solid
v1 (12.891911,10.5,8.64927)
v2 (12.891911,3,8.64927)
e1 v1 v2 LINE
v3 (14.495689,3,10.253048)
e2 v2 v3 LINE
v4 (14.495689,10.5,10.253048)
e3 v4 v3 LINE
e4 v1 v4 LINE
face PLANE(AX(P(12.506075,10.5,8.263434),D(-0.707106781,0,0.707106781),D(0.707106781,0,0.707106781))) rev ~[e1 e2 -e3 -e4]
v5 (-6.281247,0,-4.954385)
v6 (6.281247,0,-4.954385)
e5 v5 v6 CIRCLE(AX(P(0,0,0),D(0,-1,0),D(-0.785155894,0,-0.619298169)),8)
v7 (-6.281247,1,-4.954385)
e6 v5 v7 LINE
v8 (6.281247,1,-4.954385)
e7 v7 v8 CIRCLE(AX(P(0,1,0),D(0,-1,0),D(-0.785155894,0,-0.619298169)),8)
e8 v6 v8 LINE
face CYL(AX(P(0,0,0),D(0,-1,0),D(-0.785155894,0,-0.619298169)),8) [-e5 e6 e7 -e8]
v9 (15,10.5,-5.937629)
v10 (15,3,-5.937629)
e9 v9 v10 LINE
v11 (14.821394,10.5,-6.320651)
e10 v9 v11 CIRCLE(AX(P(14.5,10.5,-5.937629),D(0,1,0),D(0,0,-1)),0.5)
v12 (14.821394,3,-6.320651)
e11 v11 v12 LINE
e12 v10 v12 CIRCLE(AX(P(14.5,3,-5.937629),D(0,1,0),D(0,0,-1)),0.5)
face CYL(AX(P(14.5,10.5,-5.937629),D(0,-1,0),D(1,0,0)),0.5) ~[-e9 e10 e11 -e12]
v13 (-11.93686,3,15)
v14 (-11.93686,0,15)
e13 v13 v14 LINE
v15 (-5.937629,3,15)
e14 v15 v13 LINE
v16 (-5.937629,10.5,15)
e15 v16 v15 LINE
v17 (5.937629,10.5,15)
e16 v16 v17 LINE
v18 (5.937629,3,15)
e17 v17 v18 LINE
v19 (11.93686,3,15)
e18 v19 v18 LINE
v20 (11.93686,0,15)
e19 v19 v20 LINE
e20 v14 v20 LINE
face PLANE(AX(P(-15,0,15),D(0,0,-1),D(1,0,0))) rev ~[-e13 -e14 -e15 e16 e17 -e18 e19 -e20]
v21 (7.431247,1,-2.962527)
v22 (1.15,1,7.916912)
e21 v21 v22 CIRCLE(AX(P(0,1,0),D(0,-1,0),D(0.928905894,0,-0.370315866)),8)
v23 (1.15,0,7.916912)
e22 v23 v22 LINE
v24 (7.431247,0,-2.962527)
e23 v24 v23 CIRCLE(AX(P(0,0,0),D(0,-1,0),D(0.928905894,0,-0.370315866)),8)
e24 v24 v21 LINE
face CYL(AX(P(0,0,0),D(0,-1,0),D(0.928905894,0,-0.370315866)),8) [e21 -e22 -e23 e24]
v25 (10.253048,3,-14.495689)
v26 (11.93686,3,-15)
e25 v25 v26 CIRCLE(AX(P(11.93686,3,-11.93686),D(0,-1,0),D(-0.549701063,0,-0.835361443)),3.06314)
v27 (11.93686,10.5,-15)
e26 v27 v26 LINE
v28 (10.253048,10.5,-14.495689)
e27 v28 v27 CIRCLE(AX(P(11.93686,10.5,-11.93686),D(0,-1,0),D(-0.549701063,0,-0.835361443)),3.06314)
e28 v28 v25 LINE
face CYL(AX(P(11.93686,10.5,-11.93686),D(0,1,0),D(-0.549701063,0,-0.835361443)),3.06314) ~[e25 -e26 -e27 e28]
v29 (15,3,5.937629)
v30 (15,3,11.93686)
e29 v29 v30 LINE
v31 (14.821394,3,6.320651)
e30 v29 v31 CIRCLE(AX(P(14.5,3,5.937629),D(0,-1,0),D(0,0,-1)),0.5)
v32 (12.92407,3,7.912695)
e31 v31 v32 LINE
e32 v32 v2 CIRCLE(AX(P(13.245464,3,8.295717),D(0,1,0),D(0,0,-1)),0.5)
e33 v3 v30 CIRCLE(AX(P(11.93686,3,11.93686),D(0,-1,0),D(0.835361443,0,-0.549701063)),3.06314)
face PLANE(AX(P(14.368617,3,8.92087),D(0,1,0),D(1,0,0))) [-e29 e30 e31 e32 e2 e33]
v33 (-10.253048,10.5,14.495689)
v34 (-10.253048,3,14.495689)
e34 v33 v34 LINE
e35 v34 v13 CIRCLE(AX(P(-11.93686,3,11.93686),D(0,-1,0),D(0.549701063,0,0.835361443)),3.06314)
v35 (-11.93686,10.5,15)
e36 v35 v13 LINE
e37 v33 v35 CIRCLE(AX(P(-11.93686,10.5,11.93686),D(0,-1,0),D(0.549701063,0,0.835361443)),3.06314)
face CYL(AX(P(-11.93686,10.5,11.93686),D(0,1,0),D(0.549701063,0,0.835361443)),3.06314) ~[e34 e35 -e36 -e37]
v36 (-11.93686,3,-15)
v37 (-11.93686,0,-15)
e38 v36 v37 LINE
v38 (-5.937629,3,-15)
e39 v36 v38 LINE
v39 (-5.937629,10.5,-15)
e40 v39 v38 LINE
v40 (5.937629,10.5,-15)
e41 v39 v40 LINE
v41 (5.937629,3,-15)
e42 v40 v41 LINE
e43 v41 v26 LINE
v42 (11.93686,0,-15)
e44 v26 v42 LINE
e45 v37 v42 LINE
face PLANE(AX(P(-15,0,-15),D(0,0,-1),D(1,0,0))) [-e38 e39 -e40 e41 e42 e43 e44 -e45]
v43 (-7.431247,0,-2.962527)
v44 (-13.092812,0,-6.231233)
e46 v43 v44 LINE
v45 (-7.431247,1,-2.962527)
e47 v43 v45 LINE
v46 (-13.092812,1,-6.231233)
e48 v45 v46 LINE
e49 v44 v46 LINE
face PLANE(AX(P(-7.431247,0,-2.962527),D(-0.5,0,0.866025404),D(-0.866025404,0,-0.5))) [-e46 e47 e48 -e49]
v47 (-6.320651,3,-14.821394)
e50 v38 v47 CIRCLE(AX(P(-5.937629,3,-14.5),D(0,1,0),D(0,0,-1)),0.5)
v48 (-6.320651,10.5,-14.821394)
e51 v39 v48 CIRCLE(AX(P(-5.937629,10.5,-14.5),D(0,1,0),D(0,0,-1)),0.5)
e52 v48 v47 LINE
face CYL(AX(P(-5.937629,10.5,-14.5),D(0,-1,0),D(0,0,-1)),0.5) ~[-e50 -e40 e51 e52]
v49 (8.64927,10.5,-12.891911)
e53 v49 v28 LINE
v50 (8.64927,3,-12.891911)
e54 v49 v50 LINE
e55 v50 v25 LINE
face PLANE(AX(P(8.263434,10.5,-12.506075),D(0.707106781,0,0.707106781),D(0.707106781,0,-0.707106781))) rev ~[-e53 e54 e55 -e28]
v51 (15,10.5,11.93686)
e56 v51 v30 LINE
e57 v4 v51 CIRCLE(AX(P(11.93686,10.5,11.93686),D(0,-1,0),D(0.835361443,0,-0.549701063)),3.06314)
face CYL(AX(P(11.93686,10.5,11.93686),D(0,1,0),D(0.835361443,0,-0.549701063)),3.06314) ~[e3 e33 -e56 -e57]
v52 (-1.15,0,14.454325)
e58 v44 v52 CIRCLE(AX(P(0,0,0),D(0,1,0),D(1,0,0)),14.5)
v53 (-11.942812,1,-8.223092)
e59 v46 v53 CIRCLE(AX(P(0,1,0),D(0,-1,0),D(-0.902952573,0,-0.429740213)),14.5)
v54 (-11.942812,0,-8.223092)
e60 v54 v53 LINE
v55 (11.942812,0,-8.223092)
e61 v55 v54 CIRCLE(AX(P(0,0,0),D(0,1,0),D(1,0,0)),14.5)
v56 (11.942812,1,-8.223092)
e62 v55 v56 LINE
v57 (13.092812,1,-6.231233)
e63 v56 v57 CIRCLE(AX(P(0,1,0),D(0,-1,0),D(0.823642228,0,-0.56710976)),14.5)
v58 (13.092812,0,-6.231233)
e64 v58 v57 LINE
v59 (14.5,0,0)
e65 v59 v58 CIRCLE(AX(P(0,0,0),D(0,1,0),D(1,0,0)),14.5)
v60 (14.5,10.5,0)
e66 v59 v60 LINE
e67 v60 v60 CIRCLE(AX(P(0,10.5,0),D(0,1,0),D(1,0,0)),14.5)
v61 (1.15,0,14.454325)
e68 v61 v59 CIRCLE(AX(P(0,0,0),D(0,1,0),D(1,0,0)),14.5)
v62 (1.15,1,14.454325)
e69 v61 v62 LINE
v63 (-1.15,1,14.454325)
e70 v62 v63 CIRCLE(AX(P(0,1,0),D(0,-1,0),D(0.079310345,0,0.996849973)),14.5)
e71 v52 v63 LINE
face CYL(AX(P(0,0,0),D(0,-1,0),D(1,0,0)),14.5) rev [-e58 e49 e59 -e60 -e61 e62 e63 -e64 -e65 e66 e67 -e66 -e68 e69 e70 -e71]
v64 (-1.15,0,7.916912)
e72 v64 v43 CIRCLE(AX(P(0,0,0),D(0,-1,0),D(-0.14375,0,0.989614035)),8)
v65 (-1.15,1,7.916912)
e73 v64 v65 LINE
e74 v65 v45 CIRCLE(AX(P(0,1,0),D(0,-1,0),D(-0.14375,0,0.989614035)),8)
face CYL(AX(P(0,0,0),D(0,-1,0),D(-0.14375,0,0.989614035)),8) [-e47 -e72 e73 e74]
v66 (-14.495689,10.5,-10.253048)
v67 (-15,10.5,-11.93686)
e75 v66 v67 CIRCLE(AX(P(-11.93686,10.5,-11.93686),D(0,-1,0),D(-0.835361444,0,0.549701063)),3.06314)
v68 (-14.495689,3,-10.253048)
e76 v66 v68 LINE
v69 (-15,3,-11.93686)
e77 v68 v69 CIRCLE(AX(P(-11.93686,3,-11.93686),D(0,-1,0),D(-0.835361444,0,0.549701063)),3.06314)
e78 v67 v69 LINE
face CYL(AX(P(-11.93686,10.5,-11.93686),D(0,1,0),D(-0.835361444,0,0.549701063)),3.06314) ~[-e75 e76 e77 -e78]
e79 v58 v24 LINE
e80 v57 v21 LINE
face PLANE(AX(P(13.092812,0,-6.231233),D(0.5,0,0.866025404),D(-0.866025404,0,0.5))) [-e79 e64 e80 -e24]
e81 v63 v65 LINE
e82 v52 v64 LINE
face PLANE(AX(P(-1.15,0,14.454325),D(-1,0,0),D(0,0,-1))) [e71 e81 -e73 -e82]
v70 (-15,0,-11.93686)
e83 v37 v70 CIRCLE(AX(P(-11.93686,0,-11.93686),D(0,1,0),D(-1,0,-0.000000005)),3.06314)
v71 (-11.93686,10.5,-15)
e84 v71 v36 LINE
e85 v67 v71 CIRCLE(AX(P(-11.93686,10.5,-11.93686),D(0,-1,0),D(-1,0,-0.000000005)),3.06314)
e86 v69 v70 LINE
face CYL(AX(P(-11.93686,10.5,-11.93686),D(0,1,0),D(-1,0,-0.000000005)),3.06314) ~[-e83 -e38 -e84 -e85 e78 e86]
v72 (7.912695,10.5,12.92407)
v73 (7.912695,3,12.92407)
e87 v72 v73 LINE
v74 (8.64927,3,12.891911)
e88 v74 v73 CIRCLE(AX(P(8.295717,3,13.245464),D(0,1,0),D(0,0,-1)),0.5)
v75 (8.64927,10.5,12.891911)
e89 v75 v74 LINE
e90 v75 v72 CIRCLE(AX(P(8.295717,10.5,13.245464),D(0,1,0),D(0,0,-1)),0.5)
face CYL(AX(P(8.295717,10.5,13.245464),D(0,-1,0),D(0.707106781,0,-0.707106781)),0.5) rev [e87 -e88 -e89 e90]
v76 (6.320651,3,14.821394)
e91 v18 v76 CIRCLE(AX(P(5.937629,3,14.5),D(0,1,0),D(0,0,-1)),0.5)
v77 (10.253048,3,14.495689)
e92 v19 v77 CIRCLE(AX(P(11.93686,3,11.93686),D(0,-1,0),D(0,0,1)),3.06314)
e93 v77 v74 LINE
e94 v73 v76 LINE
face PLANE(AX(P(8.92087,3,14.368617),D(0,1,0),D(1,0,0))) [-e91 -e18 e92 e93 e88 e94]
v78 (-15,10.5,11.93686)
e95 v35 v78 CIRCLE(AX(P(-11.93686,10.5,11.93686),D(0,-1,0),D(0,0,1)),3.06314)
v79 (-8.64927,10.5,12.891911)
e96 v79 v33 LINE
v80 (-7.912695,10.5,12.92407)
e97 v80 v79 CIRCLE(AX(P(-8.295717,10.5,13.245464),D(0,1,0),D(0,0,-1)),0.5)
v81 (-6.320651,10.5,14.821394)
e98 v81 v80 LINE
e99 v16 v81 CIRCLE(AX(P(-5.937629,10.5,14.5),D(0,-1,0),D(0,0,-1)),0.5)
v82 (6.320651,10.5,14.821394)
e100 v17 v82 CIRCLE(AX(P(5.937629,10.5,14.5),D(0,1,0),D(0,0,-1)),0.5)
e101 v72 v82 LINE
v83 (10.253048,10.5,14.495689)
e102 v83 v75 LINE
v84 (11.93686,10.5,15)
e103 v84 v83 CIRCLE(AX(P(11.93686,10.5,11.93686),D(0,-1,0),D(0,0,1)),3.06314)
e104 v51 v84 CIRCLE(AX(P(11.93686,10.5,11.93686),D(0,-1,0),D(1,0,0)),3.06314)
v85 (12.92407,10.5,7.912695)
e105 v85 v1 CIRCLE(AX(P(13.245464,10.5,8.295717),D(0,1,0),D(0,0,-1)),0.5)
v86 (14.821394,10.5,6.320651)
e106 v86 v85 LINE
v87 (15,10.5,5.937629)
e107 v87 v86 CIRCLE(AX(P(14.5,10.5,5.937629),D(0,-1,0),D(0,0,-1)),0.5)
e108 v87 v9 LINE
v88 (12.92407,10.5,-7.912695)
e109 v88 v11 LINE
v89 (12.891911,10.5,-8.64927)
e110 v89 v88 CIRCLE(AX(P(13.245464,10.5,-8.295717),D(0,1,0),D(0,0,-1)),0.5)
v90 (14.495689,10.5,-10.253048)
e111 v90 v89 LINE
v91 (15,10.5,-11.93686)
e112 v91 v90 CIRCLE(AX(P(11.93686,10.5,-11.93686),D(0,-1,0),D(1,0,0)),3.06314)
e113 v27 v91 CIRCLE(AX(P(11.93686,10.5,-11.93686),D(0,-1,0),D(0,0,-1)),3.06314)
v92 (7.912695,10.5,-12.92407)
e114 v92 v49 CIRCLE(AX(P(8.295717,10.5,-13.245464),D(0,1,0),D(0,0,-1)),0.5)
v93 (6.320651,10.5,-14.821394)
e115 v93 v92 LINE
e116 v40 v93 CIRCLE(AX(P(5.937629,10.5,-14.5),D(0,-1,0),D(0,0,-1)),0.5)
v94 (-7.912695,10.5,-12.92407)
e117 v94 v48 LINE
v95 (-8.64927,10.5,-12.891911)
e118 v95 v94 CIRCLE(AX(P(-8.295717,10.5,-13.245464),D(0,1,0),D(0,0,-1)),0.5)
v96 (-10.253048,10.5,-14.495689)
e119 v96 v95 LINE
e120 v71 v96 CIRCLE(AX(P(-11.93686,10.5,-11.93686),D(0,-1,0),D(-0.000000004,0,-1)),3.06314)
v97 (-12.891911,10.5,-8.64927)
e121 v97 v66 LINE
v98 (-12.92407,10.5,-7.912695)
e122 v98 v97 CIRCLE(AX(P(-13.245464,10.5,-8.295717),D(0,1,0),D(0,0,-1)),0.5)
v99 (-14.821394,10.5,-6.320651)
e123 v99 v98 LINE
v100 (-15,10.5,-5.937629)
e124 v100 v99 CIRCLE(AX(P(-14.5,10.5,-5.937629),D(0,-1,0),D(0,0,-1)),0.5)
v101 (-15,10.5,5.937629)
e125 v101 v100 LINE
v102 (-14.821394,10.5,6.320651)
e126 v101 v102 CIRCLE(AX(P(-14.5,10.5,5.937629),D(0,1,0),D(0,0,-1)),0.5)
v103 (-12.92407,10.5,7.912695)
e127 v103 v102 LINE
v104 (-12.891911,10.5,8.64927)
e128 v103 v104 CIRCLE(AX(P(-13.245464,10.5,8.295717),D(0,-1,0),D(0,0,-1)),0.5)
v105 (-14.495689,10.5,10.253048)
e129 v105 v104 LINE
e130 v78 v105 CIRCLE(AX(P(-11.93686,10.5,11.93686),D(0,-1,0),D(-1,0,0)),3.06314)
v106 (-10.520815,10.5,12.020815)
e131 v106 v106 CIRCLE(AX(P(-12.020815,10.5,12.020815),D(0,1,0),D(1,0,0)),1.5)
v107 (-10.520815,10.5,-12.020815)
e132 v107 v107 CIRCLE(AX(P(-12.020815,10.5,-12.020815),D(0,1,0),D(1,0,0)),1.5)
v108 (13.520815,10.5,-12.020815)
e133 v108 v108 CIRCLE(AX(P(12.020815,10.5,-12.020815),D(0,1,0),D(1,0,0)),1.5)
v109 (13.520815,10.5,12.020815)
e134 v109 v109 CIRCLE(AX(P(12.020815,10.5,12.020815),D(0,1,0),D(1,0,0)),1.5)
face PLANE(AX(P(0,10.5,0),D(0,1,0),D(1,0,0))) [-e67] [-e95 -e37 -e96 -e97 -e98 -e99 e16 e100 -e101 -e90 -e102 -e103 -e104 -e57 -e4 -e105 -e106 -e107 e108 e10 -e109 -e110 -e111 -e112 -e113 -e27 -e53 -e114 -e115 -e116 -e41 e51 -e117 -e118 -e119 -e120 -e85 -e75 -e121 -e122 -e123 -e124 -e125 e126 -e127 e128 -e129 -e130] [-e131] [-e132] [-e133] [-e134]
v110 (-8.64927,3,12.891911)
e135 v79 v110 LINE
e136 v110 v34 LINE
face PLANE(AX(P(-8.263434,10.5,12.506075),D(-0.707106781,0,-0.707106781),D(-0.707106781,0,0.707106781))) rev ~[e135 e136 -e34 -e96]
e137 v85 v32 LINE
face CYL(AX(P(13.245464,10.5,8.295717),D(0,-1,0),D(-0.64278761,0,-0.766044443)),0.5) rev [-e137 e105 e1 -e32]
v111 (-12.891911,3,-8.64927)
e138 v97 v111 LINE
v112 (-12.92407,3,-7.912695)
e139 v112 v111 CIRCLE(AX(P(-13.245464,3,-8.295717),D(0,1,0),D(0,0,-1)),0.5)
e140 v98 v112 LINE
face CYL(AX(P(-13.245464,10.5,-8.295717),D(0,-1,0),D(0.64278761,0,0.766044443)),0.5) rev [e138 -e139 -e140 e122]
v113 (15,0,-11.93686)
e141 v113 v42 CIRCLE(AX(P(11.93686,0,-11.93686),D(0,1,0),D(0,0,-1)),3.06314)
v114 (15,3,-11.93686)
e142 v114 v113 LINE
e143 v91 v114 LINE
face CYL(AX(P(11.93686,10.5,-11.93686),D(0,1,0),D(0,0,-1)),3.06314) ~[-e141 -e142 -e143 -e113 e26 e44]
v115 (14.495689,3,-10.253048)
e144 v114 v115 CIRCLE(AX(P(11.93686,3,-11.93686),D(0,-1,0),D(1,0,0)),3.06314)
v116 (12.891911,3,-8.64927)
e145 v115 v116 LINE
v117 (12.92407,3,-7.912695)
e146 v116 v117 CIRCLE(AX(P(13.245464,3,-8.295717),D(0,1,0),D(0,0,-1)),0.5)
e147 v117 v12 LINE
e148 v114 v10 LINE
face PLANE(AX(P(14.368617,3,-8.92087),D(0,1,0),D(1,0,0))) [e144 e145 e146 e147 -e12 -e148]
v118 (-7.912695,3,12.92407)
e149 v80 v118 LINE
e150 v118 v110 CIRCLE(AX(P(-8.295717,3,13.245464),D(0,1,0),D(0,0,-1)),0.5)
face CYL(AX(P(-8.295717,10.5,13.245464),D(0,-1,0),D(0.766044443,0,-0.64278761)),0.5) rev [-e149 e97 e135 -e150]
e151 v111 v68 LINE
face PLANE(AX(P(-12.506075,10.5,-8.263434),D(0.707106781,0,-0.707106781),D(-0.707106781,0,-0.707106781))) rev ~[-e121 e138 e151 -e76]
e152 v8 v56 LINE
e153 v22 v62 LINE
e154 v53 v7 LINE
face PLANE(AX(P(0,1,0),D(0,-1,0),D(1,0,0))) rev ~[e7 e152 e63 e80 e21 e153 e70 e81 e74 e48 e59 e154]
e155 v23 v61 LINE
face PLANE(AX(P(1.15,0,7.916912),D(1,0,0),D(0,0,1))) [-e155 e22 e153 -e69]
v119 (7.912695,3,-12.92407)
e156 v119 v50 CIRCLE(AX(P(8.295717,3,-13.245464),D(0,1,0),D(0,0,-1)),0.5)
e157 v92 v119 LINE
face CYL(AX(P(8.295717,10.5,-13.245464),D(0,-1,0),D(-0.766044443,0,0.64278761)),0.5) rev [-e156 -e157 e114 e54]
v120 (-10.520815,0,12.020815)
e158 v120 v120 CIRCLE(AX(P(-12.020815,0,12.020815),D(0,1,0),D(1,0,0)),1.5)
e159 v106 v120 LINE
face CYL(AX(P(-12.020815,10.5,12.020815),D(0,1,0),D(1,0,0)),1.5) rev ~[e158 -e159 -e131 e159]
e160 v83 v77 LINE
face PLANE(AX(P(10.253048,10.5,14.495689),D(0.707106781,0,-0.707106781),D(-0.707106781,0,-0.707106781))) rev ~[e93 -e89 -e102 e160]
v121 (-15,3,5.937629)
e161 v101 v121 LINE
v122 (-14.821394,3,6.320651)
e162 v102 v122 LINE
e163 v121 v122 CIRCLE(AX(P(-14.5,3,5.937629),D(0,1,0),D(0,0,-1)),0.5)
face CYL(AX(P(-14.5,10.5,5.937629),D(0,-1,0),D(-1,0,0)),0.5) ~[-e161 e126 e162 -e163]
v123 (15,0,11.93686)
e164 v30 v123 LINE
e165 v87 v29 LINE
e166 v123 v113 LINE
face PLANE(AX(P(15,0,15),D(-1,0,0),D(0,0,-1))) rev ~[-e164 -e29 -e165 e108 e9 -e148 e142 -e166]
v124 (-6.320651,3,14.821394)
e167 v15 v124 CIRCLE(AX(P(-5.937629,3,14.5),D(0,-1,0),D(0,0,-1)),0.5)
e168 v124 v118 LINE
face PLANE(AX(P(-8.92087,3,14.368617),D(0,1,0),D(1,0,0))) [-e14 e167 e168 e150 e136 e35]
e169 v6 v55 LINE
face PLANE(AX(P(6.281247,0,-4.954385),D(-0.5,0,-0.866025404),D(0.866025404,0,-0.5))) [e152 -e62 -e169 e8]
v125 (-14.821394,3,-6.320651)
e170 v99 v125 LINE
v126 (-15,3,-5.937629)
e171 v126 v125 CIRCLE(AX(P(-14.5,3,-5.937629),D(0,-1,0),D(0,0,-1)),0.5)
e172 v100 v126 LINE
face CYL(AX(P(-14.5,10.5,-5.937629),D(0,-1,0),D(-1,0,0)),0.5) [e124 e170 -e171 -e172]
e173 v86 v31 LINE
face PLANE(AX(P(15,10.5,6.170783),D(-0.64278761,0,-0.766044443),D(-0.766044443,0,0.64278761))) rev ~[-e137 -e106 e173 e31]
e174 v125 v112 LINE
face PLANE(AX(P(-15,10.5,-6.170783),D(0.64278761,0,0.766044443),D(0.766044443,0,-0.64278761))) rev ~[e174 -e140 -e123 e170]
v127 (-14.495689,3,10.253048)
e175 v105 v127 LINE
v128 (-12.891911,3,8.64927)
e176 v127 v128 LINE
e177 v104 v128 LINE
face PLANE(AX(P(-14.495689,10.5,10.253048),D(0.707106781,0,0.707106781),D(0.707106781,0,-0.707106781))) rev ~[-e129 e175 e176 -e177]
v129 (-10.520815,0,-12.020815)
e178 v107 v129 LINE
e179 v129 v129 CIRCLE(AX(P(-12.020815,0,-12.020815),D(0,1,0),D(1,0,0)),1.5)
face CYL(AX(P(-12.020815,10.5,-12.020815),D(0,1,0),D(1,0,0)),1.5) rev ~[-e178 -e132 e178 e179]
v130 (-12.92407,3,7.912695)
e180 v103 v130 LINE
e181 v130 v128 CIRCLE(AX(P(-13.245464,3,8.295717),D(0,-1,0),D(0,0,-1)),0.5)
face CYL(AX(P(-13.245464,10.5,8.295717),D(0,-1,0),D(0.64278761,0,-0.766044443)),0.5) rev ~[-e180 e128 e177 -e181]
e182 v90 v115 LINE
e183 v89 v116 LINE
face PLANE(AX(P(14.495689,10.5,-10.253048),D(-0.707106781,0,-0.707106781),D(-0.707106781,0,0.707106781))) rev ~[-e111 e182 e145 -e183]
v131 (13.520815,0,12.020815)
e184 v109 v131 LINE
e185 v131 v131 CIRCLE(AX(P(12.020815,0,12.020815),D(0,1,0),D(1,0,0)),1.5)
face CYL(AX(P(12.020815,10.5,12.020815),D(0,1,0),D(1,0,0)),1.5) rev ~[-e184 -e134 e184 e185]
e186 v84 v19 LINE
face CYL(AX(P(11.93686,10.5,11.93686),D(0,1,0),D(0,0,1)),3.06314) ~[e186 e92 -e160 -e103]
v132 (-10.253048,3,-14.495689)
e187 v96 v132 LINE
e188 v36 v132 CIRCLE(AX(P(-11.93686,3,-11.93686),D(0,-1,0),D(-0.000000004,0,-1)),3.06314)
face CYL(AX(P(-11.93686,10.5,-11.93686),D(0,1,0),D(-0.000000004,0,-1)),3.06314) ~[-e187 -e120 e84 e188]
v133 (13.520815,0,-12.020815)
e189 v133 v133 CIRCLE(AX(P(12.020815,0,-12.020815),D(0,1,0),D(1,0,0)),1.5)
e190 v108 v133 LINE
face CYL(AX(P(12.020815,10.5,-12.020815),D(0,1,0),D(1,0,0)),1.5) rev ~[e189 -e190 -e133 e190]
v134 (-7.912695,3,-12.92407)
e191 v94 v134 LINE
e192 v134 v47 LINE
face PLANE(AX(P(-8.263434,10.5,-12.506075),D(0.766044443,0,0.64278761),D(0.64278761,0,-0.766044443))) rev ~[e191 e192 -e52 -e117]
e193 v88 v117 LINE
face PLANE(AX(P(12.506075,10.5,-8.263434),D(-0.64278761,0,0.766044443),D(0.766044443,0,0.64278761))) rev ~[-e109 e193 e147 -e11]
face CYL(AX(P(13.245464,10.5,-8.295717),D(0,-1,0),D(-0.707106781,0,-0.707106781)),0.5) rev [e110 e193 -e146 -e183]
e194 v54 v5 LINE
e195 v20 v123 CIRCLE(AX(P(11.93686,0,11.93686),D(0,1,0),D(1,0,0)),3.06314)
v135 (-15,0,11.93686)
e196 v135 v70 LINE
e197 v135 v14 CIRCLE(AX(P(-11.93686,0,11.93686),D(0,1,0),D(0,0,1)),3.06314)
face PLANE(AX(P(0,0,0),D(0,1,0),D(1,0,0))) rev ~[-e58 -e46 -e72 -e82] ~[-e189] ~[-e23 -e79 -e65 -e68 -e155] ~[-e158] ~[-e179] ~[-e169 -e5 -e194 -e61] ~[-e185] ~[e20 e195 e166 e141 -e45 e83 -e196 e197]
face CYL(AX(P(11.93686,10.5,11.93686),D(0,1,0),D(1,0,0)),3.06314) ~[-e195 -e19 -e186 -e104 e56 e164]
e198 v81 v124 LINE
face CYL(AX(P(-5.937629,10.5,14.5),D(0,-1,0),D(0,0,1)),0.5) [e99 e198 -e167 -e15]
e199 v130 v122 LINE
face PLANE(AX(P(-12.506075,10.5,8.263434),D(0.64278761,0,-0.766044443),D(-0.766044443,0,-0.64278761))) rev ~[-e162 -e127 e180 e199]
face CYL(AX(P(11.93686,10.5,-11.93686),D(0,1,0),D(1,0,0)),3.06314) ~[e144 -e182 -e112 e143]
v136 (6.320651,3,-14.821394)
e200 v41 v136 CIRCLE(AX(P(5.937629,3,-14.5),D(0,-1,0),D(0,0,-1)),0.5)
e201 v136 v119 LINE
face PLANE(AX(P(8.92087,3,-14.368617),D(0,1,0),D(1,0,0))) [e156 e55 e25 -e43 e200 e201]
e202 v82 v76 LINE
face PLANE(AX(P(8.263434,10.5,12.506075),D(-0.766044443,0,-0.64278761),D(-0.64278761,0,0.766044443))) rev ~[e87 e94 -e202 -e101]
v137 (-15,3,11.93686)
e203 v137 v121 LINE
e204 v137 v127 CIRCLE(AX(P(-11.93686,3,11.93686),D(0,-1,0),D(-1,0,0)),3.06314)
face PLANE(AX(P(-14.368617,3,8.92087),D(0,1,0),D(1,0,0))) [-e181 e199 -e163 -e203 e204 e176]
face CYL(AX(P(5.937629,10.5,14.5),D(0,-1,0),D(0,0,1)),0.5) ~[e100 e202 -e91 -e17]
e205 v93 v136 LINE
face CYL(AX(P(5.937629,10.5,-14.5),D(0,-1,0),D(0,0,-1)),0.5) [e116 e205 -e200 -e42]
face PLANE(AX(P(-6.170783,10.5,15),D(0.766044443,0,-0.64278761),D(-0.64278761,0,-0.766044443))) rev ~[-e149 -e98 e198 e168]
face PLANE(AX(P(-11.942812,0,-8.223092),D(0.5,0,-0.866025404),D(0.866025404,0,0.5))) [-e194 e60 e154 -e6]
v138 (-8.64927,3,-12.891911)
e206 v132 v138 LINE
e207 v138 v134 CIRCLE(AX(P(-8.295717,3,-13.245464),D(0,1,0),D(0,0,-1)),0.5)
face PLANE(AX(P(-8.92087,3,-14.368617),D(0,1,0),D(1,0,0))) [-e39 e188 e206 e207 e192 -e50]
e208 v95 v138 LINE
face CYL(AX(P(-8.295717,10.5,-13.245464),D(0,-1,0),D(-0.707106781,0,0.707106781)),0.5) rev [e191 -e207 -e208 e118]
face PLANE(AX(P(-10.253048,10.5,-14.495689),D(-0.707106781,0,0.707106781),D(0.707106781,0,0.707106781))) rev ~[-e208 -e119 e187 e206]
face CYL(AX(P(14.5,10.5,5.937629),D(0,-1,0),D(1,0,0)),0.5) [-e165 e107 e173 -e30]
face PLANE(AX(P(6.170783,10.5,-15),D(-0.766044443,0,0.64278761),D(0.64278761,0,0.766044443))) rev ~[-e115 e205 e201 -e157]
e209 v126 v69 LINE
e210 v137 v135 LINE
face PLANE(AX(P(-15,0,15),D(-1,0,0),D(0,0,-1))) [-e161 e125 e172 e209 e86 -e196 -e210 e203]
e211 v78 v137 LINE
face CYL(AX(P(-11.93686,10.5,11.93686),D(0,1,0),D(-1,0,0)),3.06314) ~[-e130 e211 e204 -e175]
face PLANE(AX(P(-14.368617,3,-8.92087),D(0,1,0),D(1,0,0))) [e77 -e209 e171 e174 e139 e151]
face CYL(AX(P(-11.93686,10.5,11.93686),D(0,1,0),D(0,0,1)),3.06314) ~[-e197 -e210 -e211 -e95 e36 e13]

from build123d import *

# Parameters (mm, degrees)
SKETCH2_W           = 30
SKETCH2_H           = 30
SKETCH2_R           = 14.5
BOSS_EXTRUDE1_DEPTH = 10.5
BOSS_EXTRUDE2_DEPTH = 1
SKETCH4_R           = 1.5
CUT_EXTRUDE1_DEPTH  = 24.669600757
CUT_EXTRUDE2_DEPTH  = 7.5
FILLET1_R           = 0.5


with BuildPart() as part:
    # Sketch2 → Boss-Extrude1 (new body)
    with BuildSketch(Plane(origin=(0, 0, 0), x_dir=(1, 0, 0), z_dir=(0, 1, 0))):
        Rectangle(SKETCH2_W, SKETCH2_H)
        Circle(SKETCH2_R, mode=Mode.SUBTRACT)
    extrude(amount=BOSS_EXTRUDE1_DEPTH)

    # Sketch3 → Boss-Extrude2 (add)
    with BuildSketch(Plane.XZ):
        with BuildLine():
            Line((-1.15, 14.454324612), (-1.15, 7.916912277))
            ThreePointArc((-1.15, 7.916912277), (-6.92820323, 4), (-7.431247151, -2.962526924))
            Line((-7.431247151, -2.962526924), (-13.092812309, -6.231233092))
            ThreePointArc((-13.092812309, -6.231233092), (-12.557368355, -7.25), (-11.942812309, -8.223091521))
            Line((-11.942812309, -8.223091521), (-6.281247151, -4.954385353))
            ThreePointArc((-6.281247151, -4.954385353), (0, -8), (6.281247151, -4.954385353))
            Line((6.281247151, -4.954385353), (11.942812309, -8.223091521))
            ThreePointArc((11.942812309, -8.223091521), (12.557368355, -7.25), (13.092812309, -6.231233092))
            Line((13.092812309, -6.231233092), (7.431247151, -2.962526924))
            ThreePointArc((7.431247151, -2.962526924), (6.92820323, 4), (1.15, 7.916912277))
            Line((1.15, 7.916912277), (1.15, 14.454324612))
            ThreePointArc((1.15, 14.454324612), (0, 14.5), (-1.15, 14.454324612))
        make_face()
    extrude(amount=-BOSS_EXTRUDE2_DEPTH)

    # Sketch4 → Cut-Extrude1 (cut, through all)
    with BuildSketch(Plane(origin=(0, 10.5, 0), x_dir=(1, 0, 0), z_dir=(0, 1, 0))):
        with BuildLine():
            Line((-15, 15), (-15, 11.936859783))
            ThreePointArc((-15, 11.936859783), (-14.102826997, 14.102826999), (-11.936859779, 15))
            Line((-11.936859779, 15), (-15, 15))
        make_face()
        with BuildLine():
            ThreePointArc((-11.936859768, -15), (-14.102826997, -14.102826998), (-15, -11.93685977))
            Line((-15, -11.93685977), (-15, -15))
            Line((-15, -15), (-11.936859768, -15))
        make_face()
        with BuildLine():
            Line((15, 15), (11.936859768, 15))
            ThreePointArc((11.936859768, 15), (14.102826999, 14.102826997), (15, 11.936859766))
            Line((15, 11.936859766), (15, 15))
        make_face()
        with BuildLine():
            ThreePointArc((15, -11.936859768), (14.102826999, -14.102826997), (11.93685977, -15))
            Line((11.93685977, -15), (15, -15))
            Line((15, -15), (15, -11.936859768))
        make_face()
        with Locations((-12.02081528, 12.02081528)):
            Circle(SKETCH4_R)
        with Locations((12.02081528, 12.02081528)):
            Circle(SKETCH4_R)
        with Locations((12.02081528, -12.02081528)):
            Circle(SKETCH4_R)
        with Locations((-12.02081528, -12.02081528)):
            Circle(SKETCH4_R)
    extrude(amount=-CUT_EXTRUDE1_DEPTH, mode=Mode.SUBTRACT)

    # Sketch4<3> → Cut-Extrude2 (cut)
    with BuildSketch(Plane(origin=(0, 10.5, 0), x_dir=(1, 0, 0), z_dir=(0, 1, 0))):
        with BuildLine():
            Line((-12.506075058, 8.263434371), (-14.495689014, 10.253048327))
            ThreePointArc((-14.495689014, 10.253048327), (-14.871214971, 11.058003908), (-15, 11.936859783))
            Line((-15, 11.936859783), (-15, 6.170782872))
            Line((-15, 6.170782872), (-12.506075058, 8.263434371))
        make_face()
        with BuildLine():
            Line((-6.170782872, 15), (-11.936859779, 15))
            ThreePointArc((-11.936859779, 15), (-11.058003907, 14.871214971), (-10.253048327, 14.495689014))
            Line((-10.253048327, 14.495689014), (-8.263434371, 12.506075058))
            Line((-8.263434371, 12.506075058), (-6.170782872, 15))
        make_face()
        with BuildLine():
            Line((-12.506075058, -8.263434371), (-15, -6.170782872))
            Line((-15, -6.170782872), (-15, -11.93685977))
            ThreePointArc((-15, -11.93685977), (-14.871214969, -11.058003902), (-14.495689014, -10.253048327))
            Line((-14.495689014, -10.253048327), (-12.506075058, -8.263434371))
        make_face()
        with BuildLine():
            Line((11.936859768, 15), (6.170782872, 15))
            Line((6.170782872, 15), (8.263434371, 12.506075058))
            Line((8.263434371, 12.506075058), (10.253048327, 14.495689014))
            ThreePointArc((10.253048327, 14.495689014), (11.058003901, 14.871214969), (11.936859768, 15))
        make_face()
        with BuildLine():
            ThreePointArc((-10.253048327, -14.495689014), (-11.058003901, -14.871214969), (-11.936859768, -15))
            Line((-11.936859768, -15), (-6.170782872, -15))
            Line((-6.170782872, -15), (-8.263434371, -12.506075058))
            Line((-8.263434371, -12.506075058), (-10.253048327, -14.495689014))
        make_face()
        with BuildLine():
            Line((14.495689014, 10.253048327), (12.506075058, 8.263434371))
            Line((12.506075058, 8.263434371), (15, 6.170782872))
            Line((15, 6.170782872), (15, 11.936859766))
            ThreePointArc((15, 11.936859766), (14.871214969, 11.0580039), (14.495689014, 10.253048327))
        make_face()
        with BuildLine():
            Line((10.253048327, -14.495689014), (8.263434371, -12.506075058))
            Line((8.263434371, -12.506075058), (6.170782872, -15))
            Line((6.170782872, -15), (11.93685977, -15))
            ThreePointArc((11.93685977, -15), (11.058003902, -14.871214969), (10.253048327, -14.495689014))
        make_face()
        with BuildLine():
            Line((15, -6.170782872), (12.506075058, -8.263434371))
            Line((12.506075058, -8.263434371), (14.495689014, -10.253048327))
            ThreePointArc((14.495689014, -10.253048327), (14.871214969, -11.058003901), (15, -11.936859768))
            Line((15, -11.936859768), (15, -6.170782872))
        make_face()
    extrude(amount=-CUT_EXTRUDE2_DEPTH, mode=Mode.SUBTRACT)

    # Fillet1
    fillet1_edges = [part.edges().sort_by_distance(p)[0] for p in [
        (-6.170782872, 6.75, -15),
        (-8.263434371, 6.75, -12.506075058),
        (6.170782872, 6.75, -15),
        (8.263434371, 6.75, -12.506075058),
        (12.506075058, 6.75, -8.263434371),
        (15, 6.75, -6.170782872),
        (15, 6.75, 6.170782872),
        (12.506075058, 6.75, 8.263434371),
        (-12.506075058, 6.75, -8.263434371),
        (-15, 6.75, -6.170782872),
        (-15, 6.75, 6.170782872),
        (-12.506075058, 6.75, 8.263434371),
        (8.263434371, 6.75, 12.506075058),
        (6.170782872, 6.75, 15),
        (-6.170782872, 6.75, 15),
        (-8.263434371, 6.75, 12.506075058),
    ]]
    fillet(fillet1_edges, radius=FILLET1_R)


solid = part.part
